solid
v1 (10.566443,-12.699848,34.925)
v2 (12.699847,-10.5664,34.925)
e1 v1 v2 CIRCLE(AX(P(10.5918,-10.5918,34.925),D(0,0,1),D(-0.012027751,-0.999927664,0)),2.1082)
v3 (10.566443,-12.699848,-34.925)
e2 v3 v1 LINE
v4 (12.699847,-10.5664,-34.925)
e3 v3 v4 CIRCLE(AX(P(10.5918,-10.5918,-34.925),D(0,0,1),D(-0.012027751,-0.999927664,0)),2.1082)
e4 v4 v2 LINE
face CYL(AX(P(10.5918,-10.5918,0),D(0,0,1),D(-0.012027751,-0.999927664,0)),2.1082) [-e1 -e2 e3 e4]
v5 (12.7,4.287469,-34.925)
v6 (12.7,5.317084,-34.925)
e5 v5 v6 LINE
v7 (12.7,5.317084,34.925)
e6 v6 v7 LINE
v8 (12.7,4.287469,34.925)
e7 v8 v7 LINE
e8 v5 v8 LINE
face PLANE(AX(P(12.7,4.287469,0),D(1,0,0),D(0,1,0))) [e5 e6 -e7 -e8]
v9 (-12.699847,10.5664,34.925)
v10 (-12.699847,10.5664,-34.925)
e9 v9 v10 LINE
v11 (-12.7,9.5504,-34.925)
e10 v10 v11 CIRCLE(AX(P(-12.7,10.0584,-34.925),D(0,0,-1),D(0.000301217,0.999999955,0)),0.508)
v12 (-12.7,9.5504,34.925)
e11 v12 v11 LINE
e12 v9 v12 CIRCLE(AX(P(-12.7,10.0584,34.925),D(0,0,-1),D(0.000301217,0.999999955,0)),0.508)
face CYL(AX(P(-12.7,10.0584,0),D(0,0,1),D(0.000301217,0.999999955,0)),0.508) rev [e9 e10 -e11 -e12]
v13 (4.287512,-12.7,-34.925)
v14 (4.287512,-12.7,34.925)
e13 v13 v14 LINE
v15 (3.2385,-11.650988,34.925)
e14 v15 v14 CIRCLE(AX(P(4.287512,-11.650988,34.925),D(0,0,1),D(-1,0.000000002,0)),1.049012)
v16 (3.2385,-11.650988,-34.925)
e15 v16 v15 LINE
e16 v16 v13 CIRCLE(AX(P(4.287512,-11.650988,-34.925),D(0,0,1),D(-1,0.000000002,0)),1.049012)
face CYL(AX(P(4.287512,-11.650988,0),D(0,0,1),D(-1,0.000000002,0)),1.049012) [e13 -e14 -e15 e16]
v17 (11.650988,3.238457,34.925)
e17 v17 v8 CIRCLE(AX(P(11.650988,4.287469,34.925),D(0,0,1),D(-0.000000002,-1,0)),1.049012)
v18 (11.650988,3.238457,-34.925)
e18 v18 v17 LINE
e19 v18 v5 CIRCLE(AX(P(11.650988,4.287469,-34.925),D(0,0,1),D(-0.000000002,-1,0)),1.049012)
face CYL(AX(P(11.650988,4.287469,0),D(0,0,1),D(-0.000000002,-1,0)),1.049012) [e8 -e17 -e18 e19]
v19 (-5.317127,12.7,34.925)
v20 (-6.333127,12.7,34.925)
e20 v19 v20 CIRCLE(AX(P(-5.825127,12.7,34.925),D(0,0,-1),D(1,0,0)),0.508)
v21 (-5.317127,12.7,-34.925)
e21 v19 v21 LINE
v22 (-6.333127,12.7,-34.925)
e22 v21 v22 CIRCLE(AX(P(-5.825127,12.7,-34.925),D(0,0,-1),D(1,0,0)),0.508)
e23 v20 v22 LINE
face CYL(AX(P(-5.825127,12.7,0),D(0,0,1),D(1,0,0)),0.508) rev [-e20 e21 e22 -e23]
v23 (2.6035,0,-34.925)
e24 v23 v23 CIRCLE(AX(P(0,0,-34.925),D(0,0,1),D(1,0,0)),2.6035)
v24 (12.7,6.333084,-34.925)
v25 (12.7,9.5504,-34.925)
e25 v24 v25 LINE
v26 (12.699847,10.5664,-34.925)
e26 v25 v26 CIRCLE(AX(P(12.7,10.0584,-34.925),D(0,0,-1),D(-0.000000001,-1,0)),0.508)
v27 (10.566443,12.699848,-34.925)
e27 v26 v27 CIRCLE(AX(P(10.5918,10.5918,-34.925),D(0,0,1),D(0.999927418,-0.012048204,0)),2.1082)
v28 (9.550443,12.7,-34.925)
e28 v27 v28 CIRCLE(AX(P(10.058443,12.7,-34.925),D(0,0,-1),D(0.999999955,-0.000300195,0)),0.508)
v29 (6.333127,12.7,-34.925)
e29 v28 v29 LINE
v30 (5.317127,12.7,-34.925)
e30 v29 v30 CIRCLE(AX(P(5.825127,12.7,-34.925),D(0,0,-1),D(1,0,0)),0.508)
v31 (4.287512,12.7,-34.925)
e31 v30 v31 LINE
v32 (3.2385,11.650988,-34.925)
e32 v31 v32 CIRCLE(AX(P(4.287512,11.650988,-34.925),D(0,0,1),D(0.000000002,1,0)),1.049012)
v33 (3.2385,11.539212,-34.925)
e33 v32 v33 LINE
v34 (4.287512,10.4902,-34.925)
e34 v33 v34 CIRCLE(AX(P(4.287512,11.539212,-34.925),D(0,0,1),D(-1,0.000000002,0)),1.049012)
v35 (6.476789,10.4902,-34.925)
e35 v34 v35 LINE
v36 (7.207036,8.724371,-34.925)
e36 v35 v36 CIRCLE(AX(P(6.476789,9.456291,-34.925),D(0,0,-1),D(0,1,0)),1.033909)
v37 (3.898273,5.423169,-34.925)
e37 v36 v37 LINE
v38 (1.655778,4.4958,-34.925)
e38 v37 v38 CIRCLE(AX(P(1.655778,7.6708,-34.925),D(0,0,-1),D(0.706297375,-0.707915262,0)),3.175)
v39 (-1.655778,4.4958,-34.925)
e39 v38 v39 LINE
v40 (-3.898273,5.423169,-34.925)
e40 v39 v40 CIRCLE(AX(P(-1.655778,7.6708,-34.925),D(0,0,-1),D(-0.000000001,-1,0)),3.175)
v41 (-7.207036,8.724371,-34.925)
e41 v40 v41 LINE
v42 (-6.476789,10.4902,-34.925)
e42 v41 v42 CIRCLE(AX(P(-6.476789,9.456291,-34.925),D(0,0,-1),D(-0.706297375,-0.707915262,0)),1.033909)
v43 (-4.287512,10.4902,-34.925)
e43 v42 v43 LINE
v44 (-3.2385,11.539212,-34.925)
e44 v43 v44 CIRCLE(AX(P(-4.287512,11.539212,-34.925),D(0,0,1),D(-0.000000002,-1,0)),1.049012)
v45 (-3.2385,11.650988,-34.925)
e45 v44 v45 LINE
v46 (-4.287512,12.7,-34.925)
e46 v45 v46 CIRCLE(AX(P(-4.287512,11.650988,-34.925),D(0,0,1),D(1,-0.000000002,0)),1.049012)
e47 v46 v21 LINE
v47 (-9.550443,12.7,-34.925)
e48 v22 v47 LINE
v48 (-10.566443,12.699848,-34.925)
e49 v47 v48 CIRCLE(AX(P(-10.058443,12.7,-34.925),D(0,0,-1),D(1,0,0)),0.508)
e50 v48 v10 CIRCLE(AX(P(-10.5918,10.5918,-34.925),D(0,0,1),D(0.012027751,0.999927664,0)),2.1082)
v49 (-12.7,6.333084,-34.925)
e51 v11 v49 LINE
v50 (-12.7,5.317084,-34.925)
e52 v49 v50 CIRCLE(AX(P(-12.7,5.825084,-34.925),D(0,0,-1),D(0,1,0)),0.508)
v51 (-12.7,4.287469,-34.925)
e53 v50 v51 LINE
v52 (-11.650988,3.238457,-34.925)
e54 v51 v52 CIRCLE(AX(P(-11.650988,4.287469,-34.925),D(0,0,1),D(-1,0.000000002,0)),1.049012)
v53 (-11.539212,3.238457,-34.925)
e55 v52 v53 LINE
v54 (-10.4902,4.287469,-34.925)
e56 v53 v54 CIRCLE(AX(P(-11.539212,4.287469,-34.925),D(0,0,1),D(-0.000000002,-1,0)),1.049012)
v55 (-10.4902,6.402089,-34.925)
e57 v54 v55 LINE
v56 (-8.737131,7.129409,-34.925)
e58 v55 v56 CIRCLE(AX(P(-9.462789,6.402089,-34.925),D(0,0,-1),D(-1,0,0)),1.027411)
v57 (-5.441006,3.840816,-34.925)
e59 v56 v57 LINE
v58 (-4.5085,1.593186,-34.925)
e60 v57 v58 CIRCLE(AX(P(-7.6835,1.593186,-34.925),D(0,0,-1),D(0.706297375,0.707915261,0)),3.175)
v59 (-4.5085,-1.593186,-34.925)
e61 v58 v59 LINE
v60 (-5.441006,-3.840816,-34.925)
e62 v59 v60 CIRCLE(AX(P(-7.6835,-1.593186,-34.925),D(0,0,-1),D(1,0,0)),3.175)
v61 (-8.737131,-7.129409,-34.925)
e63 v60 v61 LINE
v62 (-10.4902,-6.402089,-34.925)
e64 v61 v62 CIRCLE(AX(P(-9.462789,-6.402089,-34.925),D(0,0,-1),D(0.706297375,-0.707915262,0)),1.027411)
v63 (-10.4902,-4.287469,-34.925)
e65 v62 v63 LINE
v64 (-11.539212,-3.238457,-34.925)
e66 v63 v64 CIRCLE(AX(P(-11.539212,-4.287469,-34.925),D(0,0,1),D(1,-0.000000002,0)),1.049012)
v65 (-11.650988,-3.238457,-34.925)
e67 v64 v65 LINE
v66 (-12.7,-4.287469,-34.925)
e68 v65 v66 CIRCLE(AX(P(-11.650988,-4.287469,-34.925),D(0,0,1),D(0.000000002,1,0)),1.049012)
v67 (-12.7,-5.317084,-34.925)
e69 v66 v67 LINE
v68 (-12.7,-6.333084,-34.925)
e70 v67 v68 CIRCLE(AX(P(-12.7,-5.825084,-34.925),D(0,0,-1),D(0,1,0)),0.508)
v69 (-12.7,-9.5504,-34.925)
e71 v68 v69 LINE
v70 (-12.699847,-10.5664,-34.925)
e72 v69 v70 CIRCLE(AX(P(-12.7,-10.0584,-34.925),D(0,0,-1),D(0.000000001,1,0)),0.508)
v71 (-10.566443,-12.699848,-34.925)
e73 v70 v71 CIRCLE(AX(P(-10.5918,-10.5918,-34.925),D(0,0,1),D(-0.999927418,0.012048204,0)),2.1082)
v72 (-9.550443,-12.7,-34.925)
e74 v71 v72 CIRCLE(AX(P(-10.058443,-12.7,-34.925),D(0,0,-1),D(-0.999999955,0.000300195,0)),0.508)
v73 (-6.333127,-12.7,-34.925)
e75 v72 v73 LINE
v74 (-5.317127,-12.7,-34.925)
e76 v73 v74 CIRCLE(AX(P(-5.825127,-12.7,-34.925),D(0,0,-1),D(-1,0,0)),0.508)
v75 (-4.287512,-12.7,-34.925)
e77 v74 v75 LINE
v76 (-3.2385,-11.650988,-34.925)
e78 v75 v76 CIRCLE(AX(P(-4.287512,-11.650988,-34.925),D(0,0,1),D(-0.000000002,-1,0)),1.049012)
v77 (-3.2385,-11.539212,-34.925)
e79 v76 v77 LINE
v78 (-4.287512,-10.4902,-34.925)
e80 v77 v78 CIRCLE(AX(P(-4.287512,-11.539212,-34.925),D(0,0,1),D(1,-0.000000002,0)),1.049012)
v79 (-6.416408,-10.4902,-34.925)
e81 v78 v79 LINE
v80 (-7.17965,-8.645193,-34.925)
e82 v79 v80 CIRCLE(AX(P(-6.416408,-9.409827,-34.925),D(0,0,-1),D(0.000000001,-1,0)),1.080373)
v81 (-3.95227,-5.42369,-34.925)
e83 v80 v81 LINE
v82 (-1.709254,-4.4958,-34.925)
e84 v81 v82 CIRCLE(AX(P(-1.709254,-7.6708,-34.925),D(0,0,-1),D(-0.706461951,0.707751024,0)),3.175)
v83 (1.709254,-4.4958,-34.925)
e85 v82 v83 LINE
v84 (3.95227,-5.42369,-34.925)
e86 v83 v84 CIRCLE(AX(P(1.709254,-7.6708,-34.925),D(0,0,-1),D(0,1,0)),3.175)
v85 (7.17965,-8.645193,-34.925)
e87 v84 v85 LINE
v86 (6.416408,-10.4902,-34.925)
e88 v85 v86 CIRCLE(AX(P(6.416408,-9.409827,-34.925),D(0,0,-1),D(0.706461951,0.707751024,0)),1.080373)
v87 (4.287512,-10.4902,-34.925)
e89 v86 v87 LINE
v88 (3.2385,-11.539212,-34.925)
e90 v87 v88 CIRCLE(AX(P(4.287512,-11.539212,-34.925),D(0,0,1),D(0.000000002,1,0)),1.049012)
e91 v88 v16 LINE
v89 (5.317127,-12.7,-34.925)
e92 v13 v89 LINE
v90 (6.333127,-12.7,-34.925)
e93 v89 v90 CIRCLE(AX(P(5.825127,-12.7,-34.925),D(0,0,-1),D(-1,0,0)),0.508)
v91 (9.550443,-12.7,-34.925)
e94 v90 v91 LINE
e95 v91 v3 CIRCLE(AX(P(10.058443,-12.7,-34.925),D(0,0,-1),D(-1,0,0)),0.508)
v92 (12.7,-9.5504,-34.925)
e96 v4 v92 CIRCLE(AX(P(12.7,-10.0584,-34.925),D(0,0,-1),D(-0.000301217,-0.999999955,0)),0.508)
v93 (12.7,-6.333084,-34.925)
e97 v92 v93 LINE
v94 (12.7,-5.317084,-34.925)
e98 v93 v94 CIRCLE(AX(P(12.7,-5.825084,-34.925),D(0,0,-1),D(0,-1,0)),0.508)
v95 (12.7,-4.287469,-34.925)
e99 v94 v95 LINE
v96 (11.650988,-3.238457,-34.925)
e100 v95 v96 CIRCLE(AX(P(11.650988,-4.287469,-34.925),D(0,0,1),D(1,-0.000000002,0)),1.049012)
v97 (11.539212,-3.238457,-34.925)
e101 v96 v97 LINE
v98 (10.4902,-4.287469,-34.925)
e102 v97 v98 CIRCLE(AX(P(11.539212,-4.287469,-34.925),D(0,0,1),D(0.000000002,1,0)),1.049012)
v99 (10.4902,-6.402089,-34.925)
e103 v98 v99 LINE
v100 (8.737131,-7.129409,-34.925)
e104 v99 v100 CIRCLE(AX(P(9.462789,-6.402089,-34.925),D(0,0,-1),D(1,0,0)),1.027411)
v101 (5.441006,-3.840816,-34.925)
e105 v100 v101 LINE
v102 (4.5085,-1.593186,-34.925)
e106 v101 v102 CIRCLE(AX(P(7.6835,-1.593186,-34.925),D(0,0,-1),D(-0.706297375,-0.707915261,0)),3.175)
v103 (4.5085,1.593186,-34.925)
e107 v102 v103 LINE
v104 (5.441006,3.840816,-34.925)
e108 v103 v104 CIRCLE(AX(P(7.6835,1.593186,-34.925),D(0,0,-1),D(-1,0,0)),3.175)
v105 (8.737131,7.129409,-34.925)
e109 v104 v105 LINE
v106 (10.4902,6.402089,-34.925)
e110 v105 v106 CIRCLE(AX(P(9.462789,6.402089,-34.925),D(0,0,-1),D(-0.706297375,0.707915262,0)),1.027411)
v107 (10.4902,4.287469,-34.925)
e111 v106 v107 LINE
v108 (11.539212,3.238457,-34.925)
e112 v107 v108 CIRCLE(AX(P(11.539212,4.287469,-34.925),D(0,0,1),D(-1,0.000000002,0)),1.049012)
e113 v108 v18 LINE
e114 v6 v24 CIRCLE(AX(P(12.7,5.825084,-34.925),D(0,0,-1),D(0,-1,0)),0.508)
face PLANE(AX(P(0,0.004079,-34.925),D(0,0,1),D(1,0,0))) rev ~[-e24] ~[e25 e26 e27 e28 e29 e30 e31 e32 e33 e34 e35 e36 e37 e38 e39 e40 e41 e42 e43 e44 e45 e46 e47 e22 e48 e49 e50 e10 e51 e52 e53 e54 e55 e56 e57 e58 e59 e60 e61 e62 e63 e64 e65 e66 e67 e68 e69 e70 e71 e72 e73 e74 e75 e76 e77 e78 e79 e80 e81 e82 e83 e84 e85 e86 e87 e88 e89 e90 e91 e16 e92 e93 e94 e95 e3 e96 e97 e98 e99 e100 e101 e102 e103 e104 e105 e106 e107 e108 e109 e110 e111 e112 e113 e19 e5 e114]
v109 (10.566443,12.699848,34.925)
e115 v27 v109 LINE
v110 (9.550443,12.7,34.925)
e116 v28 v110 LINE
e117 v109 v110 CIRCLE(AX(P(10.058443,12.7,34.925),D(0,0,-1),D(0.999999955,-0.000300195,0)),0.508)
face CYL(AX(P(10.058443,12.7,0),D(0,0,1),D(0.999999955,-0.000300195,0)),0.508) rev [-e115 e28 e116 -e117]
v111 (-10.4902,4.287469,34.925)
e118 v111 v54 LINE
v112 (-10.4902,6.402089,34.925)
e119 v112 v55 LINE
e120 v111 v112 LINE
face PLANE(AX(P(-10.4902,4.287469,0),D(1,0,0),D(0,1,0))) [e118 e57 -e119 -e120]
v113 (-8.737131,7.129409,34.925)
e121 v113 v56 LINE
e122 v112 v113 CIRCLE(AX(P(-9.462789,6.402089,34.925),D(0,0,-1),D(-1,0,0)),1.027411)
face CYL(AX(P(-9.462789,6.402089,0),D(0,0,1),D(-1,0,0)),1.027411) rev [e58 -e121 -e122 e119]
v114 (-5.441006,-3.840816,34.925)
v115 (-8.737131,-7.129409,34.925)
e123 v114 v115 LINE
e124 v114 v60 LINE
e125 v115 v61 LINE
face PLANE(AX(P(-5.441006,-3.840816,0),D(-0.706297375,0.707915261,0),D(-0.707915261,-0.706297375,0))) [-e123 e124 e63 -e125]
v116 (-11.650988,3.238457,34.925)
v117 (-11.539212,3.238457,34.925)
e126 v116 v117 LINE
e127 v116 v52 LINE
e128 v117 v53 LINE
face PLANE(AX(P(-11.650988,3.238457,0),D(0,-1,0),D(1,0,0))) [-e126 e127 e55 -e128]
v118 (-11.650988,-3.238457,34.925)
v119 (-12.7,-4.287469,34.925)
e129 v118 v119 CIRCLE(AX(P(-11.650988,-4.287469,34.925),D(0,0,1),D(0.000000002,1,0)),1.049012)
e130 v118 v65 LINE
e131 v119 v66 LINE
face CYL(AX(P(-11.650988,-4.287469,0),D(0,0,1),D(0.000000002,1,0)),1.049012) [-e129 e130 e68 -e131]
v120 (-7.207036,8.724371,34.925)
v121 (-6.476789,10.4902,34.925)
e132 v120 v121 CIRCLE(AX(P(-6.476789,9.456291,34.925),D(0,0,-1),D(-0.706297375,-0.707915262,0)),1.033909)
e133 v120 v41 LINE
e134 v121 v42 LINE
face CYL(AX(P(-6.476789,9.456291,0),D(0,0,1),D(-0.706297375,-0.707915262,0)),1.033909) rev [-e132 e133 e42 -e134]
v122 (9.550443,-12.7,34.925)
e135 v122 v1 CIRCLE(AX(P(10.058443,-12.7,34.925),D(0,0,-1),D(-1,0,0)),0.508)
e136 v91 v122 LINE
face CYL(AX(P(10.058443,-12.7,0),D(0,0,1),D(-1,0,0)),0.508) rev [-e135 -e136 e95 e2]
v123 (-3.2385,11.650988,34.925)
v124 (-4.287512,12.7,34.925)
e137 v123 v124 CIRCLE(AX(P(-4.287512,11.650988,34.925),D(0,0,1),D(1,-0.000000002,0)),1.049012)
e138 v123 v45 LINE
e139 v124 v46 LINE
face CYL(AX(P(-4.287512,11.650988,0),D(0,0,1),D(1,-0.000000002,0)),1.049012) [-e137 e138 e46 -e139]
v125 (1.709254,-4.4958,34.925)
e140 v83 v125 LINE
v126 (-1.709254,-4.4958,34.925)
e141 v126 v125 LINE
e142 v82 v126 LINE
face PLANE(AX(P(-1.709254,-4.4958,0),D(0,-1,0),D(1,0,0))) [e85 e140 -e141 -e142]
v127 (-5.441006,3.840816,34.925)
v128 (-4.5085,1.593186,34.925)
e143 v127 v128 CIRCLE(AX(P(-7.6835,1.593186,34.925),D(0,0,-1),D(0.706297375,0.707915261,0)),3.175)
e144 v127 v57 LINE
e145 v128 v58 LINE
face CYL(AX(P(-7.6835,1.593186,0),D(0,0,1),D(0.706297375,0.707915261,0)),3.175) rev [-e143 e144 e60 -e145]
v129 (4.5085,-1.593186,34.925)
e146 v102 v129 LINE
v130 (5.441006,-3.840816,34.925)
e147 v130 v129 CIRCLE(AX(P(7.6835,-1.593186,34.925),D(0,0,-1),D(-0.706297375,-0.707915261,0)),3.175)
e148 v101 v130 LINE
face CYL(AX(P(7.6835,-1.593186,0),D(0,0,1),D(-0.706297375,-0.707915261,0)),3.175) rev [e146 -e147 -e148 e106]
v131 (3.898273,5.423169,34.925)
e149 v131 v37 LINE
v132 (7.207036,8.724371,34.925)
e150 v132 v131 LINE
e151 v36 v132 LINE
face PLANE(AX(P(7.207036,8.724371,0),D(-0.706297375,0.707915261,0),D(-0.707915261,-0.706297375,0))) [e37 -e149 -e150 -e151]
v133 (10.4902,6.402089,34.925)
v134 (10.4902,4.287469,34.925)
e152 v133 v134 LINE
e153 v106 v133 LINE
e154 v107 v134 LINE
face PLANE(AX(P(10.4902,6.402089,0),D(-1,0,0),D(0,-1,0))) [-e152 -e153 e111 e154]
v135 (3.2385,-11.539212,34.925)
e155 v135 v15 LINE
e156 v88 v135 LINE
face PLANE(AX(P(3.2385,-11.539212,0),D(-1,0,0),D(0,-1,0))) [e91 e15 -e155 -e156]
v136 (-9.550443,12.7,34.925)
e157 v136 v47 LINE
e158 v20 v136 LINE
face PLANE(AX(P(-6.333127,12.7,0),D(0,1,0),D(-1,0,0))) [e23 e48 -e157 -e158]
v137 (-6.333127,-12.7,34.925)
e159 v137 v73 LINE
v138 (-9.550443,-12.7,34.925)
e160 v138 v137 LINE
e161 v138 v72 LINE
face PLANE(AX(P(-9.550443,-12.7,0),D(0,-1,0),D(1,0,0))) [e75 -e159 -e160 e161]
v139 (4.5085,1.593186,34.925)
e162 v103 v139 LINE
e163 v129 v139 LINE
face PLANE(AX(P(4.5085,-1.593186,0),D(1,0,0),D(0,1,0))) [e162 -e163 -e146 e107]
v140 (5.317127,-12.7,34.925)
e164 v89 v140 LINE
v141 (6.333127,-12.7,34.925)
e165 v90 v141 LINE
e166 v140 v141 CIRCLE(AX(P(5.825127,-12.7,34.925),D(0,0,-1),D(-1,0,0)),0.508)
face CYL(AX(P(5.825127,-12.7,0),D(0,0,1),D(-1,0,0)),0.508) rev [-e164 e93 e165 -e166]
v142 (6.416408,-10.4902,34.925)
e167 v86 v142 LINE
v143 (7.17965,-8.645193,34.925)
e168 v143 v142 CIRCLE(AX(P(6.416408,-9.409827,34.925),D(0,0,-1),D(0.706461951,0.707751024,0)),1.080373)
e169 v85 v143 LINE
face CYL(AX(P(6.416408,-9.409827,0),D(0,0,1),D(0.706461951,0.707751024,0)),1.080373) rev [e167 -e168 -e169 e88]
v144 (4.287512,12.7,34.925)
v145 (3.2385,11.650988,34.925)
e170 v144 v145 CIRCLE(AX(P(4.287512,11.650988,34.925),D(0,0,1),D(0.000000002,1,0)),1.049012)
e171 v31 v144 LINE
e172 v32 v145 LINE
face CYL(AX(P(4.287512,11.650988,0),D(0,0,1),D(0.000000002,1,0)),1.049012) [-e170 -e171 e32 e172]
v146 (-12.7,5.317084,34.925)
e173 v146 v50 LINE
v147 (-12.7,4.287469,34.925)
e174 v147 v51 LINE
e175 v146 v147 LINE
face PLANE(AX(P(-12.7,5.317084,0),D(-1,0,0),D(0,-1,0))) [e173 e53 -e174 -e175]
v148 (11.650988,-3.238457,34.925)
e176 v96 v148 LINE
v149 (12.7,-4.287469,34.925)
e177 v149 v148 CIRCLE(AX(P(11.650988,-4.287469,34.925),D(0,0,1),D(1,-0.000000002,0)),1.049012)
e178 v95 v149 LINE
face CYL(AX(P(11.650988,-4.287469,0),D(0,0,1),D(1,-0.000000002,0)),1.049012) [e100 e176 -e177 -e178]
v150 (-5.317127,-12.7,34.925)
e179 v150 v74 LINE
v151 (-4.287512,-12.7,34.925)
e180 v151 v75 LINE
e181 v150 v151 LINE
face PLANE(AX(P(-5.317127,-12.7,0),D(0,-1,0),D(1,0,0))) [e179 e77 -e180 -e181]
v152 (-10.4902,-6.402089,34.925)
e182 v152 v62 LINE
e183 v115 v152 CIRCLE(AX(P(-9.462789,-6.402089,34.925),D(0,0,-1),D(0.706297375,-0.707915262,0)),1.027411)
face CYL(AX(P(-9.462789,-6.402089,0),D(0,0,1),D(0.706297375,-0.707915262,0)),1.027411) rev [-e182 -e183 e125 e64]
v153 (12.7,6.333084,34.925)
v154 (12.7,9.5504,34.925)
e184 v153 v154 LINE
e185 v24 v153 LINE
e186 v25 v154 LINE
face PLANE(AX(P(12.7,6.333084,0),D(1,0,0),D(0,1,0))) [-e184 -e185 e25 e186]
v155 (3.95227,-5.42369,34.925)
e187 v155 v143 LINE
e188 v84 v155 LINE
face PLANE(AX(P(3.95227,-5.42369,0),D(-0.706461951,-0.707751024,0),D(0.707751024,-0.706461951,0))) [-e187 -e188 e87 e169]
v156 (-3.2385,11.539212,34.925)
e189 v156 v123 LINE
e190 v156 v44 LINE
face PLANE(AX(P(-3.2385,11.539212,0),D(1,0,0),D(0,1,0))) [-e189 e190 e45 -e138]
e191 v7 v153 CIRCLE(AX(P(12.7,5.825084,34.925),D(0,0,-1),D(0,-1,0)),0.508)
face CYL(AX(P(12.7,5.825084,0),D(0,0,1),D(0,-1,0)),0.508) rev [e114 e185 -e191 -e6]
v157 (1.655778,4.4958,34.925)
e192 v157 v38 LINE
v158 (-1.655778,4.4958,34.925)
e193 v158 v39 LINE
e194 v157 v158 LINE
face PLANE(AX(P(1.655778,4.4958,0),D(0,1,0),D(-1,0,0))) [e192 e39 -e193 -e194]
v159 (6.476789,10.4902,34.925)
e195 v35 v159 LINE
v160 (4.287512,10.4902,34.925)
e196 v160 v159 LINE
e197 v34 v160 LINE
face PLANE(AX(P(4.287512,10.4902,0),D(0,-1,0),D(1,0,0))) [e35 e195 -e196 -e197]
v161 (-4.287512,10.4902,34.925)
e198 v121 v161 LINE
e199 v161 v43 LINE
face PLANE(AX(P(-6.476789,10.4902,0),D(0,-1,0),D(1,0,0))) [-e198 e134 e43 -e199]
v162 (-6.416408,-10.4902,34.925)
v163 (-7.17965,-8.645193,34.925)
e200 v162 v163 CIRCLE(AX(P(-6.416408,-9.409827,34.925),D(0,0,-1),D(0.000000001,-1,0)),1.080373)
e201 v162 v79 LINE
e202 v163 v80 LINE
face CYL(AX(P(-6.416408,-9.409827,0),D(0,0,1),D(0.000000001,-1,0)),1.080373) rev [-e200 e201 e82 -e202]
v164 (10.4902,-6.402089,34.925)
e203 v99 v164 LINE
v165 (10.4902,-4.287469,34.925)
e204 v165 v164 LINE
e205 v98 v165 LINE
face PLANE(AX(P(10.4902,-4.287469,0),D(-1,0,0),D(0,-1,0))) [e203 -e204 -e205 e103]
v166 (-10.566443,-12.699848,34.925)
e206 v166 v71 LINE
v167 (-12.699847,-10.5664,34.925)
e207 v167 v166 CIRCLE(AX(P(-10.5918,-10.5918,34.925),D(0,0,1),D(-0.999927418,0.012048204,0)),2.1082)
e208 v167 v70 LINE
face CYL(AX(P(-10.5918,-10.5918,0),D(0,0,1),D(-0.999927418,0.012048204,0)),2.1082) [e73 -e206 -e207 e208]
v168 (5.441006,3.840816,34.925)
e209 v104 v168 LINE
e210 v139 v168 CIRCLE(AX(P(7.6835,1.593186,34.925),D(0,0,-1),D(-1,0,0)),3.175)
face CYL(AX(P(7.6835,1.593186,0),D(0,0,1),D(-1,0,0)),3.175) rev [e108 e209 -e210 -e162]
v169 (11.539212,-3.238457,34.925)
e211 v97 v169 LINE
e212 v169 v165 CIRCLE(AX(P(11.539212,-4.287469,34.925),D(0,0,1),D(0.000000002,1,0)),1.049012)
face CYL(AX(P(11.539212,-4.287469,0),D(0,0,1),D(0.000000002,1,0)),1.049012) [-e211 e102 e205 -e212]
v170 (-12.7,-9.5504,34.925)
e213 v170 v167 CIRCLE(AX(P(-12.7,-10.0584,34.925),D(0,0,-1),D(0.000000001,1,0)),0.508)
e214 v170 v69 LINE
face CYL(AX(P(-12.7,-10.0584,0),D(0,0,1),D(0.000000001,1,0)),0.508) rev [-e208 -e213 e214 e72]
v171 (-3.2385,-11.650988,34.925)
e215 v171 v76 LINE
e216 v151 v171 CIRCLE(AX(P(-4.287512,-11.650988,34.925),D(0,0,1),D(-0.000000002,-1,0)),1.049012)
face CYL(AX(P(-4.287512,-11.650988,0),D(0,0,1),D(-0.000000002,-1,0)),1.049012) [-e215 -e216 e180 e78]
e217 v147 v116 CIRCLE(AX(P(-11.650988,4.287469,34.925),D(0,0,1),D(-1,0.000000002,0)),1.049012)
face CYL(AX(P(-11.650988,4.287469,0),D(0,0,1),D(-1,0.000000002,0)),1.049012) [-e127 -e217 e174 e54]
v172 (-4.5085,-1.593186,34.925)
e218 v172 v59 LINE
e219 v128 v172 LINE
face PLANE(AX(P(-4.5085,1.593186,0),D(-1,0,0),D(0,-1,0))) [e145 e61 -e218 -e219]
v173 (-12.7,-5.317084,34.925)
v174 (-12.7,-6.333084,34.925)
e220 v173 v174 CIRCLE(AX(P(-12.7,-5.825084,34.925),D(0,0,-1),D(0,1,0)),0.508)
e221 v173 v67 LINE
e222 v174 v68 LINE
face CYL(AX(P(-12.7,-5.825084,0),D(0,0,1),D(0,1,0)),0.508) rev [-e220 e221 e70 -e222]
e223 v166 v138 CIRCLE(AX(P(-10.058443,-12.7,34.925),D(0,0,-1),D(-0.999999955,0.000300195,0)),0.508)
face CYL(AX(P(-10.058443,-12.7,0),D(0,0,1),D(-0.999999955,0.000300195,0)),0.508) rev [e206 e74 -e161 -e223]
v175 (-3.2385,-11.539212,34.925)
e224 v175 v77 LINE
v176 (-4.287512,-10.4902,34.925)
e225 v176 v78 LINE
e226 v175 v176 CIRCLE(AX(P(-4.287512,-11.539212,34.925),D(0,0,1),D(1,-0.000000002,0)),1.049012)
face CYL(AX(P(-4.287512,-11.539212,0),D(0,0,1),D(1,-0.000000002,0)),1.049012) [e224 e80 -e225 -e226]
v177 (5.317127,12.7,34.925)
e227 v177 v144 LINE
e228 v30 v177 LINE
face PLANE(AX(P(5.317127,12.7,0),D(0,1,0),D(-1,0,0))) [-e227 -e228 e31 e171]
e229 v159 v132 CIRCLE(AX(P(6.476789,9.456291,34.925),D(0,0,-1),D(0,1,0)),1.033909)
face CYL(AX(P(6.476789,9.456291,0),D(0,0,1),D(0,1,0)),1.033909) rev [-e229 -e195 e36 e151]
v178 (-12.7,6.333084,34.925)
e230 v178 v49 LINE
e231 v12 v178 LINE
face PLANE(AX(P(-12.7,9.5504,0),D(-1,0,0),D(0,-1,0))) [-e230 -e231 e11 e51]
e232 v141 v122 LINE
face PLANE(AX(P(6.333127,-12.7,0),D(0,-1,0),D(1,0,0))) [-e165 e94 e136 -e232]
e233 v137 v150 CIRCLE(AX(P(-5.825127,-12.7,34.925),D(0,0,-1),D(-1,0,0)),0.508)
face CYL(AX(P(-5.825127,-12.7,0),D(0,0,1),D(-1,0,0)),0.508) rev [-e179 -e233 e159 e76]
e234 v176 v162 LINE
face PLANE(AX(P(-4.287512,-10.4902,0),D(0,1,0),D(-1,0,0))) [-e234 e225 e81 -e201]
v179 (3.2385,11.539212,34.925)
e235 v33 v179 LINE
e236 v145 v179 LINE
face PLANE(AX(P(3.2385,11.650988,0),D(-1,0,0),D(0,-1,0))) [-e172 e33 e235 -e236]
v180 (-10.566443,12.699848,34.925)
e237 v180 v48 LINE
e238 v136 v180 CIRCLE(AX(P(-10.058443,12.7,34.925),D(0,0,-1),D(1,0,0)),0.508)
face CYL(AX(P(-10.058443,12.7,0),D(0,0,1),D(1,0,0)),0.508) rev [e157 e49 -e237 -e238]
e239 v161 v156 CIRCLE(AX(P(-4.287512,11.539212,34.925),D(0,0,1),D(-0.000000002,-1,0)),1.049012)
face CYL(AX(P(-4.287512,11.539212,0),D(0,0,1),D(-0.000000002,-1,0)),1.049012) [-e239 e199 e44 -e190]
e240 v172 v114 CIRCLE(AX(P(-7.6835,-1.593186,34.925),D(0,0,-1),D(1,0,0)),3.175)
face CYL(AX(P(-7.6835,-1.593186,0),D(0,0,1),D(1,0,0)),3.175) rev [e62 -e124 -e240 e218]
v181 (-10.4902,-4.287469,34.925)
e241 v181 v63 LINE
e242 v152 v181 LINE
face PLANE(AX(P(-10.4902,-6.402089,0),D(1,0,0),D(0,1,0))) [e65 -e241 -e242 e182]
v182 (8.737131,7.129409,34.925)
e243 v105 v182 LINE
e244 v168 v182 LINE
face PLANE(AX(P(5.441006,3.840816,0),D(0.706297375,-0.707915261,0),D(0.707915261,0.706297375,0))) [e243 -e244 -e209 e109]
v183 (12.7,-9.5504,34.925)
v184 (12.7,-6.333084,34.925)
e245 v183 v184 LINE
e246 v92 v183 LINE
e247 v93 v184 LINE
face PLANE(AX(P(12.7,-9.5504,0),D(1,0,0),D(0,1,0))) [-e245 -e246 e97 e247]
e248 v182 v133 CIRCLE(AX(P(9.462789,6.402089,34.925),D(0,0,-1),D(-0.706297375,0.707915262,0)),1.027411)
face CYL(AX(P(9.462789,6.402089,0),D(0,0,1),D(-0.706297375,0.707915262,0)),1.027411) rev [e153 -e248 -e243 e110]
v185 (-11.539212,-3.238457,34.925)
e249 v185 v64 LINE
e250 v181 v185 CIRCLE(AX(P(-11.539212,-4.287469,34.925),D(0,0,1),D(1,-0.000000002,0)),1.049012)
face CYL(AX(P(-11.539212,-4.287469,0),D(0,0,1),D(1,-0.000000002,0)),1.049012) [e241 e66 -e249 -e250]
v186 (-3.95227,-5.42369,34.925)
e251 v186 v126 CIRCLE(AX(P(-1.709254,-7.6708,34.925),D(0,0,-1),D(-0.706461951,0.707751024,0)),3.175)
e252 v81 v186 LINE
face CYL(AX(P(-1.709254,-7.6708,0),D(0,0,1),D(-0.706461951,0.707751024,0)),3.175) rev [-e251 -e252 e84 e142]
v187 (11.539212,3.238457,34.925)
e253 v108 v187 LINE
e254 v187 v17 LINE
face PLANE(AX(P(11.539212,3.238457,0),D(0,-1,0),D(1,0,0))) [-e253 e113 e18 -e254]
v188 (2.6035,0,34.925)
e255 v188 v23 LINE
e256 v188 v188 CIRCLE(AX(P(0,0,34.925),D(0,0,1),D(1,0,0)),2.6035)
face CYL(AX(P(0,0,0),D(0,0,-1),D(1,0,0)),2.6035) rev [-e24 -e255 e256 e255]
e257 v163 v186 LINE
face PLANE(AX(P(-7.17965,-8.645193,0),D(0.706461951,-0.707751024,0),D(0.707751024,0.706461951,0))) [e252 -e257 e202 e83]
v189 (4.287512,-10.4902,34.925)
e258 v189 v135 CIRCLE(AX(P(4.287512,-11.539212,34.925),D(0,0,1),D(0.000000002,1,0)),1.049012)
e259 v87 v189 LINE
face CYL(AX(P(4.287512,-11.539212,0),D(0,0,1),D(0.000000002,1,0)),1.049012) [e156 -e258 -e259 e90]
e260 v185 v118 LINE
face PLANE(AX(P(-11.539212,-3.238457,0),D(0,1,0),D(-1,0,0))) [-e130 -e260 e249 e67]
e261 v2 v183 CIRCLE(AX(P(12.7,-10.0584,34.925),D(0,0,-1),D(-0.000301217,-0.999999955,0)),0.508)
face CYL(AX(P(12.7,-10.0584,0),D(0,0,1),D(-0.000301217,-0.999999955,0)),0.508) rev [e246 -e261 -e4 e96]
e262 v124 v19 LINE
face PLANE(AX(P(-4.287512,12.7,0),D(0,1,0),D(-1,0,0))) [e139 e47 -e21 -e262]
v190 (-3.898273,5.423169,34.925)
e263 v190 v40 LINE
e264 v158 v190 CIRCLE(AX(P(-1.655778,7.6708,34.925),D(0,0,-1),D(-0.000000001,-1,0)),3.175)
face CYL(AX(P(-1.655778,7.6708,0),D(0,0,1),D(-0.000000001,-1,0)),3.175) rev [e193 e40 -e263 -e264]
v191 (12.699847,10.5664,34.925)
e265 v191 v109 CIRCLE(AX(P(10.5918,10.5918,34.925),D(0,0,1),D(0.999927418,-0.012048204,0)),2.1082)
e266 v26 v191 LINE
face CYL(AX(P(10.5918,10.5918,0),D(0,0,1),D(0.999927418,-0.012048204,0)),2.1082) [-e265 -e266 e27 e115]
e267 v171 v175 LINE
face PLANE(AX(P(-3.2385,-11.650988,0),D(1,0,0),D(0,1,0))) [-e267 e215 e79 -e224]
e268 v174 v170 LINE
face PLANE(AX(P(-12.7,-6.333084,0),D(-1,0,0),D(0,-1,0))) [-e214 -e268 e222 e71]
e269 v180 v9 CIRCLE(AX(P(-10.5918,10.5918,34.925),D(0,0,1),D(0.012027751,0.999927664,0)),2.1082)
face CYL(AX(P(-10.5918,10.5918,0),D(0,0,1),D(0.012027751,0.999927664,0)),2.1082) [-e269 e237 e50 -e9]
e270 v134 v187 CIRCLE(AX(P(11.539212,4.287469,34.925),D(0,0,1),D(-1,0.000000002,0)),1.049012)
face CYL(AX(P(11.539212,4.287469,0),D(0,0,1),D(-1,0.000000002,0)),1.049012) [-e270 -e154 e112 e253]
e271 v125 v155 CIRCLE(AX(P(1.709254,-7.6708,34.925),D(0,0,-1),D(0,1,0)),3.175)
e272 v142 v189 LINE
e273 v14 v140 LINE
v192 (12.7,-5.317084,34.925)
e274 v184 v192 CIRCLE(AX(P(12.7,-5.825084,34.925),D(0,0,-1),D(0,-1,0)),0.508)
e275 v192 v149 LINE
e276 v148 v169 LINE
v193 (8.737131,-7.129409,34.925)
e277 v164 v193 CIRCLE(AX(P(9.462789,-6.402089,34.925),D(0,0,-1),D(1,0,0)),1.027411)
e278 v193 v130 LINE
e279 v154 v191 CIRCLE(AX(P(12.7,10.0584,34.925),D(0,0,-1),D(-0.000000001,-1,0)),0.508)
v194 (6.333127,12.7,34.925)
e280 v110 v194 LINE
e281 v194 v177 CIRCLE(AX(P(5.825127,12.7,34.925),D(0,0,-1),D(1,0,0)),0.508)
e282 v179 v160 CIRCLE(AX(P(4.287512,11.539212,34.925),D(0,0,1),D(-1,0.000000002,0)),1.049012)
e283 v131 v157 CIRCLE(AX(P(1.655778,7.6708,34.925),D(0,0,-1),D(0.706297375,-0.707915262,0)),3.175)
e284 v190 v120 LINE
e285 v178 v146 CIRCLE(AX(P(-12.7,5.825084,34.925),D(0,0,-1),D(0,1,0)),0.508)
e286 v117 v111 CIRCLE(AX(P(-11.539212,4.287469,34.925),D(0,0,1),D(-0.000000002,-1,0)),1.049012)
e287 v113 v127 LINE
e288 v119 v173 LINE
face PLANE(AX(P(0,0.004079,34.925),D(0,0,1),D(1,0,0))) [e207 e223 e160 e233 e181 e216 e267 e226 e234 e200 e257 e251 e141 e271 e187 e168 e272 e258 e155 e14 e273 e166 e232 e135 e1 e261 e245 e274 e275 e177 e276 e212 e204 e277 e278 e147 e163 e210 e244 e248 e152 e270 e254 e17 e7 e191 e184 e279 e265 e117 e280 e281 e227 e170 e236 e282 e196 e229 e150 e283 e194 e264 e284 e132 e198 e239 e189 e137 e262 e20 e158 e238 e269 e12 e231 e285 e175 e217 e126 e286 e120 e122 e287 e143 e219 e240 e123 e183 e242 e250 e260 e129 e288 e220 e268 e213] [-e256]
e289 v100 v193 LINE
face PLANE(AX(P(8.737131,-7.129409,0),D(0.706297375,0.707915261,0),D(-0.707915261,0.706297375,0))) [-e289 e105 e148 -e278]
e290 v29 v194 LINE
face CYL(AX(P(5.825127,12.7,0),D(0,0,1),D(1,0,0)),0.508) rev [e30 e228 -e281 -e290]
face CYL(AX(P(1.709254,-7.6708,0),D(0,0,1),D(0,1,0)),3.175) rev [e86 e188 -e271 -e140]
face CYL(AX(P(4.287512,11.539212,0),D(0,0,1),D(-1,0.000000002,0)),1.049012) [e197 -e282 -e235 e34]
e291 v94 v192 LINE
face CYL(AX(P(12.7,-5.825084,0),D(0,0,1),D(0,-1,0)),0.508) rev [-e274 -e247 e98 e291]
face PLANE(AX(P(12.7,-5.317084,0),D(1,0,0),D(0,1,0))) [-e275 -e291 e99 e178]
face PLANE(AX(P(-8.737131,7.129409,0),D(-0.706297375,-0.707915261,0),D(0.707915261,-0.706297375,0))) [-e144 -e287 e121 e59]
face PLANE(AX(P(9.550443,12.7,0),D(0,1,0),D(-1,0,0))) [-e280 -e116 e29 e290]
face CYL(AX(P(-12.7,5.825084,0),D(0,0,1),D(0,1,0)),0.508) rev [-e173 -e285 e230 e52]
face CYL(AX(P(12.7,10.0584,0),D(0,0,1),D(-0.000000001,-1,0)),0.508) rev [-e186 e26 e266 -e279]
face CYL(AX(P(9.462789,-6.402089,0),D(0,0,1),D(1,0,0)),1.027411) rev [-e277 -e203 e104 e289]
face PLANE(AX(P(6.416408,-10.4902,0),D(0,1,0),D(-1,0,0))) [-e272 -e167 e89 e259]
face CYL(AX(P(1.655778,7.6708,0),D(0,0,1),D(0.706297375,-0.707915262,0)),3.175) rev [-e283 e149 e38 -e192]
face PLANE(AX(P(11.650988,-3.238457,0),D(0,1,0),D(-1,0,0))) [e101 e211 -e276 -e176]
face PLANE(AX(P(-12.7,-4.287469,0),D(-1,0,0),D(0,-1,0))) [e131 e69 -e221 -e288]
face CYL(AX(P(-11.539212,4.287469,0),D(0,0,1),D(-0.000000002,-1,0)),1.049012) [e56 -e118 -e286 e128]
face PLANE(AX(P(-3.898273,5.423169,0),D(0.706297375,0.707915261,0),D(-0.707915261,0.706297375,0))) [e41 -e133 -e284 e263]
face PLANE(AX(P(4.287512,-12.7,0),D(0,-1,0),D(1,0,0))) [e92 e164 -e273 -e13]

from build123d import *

# Parameters (mm, degrees)
SKETCH1_R           = 2.6035
BOSS_EXTRUDE1_DEPTH = 34.925


with BuildPart() as part:
    # Sketch1 → Boss-Extrude1 (new, symmetric)
    with BuildSketch(Plane.XY):
        with BuildLine():
            Line((-7.179650497, -8.645192506), (-3.952270251, -5.423690499))
            ThreePointArc((-3.952270251, -5.423690499), (-2.922936451, -4.736929036), (-1.709253557, -4.4958))
            Line((-1.709253557, -4.4958), (1.709253557, -4.4958))
            ThreePointArc((1.709253557, -4.4958), (2.922936451, -4.736929036), (3.952270251, -5.423690499))
            Line((3.952270251, -5.423690499), (7.179650497, -8.645192506))
            ThreePointArc((7.179650497, -8.645192506), (7.41473083, -9.822813117), (6.416408329, -10.4902))
            Line((6.416408329, -10.4902), (4.287512407, -10.4902))
            ThreePointArc((4.287512407, -10.4902), (3.54574862, -10.79744862), (3.2385, -11.539212407))
            Line((3.2385, -11.539212407), (3.2385, -11.650987593))
            ThreePointArc((3.2385, -11.650987593), (3.54574862, -12.39275138), (4.287512407, -12.7))
            Line((4.287512407, -12.7), (5.317126718, -12.7))
            ThreePointArc((5.317126718, -12.7), (5.825126718, -12.192), (6.333126718, -12.7))
            Line((6.333126718, -12.7), (9.550443118, -12.7))
            ThreePointArc((9.550443118, -12.7), (10.058366869, -12.192000006), (10.566443095, -12.699847501))
            ThreePointArc((10.566443095, -12.699847501), (12.082537762, -12.08250727), (12.699846982, -10.566399977))
            ThreePointArc((12.699846982, -10.566399977), (12.192000006, -10.058323491), (12.7, -9.5504))
            Line((12.7, -9.5504), (12.7, -6.3330836))
            ThreePointArc((12.7, -6.3330836), (12.192, -5.8250836), (12.7, -5.3170836))
            Line((12.7, -5.3170836), (12.7, -4.287469289))
            ThreePointArc((12.7, -4.287469289), (12.39275138, -3.545705502), (11.650987593, -3.238456882))
            Line((11.650987593, -3.238456882), (11.539212407, -3.238456882))
            ThreePointArc((11.539212407, -3.238456882), (10.79744862, -3.545705502), (10.4902, -4.287469289))
            Line((10.4902, -4.287469289), (10.4902, -6.402089023))
            ThreePointArc((10.4902, -6.402089023), (9.856505071, -7.351067942), (8.737131347, -7.129408934))
            Line((8.737131347, -7.129408934), (5.441005833, -3.840816462))
            ThreePointArc((5.441005833, -3.840816462), (4.750877967, -2.809883091), (4.5085, -1.593185507))
            Line((4.5085, -1.593185507), (4.5085, 1.593185507))
            ThreePointArc((4.5085, 1.593185507), (4.750877967, 2.809883091), (5.441005833, 3.840816462))
            Line((5.441005833, 3.840816462), (8.737131347, 7.129408934))
            ThreePointArc((8.737131347, 7.129408934), (9.856505071, 7.351067942), (10.4902, 6.402089023))
            Line((10.4902, 6.402089023), (10.4902, 4.287469289))
            ThreePointArc((10.4902, 4.287469289), (10.79744862, 3.545705502), (11.539212407, 3.238456882))
            Line((11.539212407, 3.238456882), (11.650987593, 3.238456882))
            ThreePointArc((11.650987593, 3.238456882), (12.39275138, 3.545705502), (12.7, 4.287469289))
            Line((12.7, 4.287469289), (12.7, 5.3170836))
            ThreePointArc((12.7, 5.3170836), (12.192, 5.8250836), (12.7, 6.3330836))
            Line((12.7, 6.3330836), (12.7, 9.5504))
            ThreePointArc((12.7, 9.5504), (12.192000006, 10.058323491), (12.699846982, 10.566399977))
            ThreePointArc((12.699846982, 10.566399977), (12.082537762, 12.08250727), (10.566443095, 12.699847501))
            ThreePointArc((10.566443095, 12.699847501), (10.058366869, 12.192000006), (9.550443118, 12.7))
            Line((9.550443118, 12.7), (6.333126718, 12.7))
            ThreePointArc((6.333126718, 12.7), (5.825126718, 12.192), (5.317126718, 12.7))
            Line((5.317126718, 12.7), (4.287512407, 12.7))
            ThreePointArc((4.287512407, 12.7), (3.54574862, 12.39275138), (3.2385, 11.650987593))
            Line((3.2385, 11.650987593), (3.2385, 11.539212407))
            ThreePointArc((3.2385, 11.539212407), (3.54574862, 10.79744862), (4.287512407, 10.4902))
            Line((4.287512407, 10.4902), (6.476788598, 10.4902))
            ThreePointArc((6.476788598, 10.4902), (7.432222385, 9.85140422), (7.207036008, 8.724370562))
            Line((7.207036008, 8.724370562), (3.898272566, 5.423169045))
            ThreePointArc((3.898272566, 5.423169045), (2.869120213, 4.736787962), (1.655778399, 4.4958))
            Line((1.655778399, 4.4958), (-1.655778399, 4.4958))
            ThreePointArc((-1.655778399, 4.4958), (-2.869120213, 4.736787962), (-3.898272566, 5.423169045))
            Line((-3.898272566, 5.423169045), (-7.207036008, 8.724370562))
            ThreePointArc((-7.207036008, 8.724370562), (-7.432222385, 9.85140422), (-6.476788598, 10.4902))
            Line((-6.476788598, 10.4902), (-4.287512407, 10.4902))
            ThreePointArc((-4.287512407, 10.4902), (-3.54574862, 10.79744862), (-3.2385, 11.539212407))
            Line((-3.2385, 11.539212407), (-3.2385, 11.650987593))
            ThreePointArc((-3.2385, 11.650987593), (-3.54574862, 12.39275138), (-4.287512407, 12.7))
            Line((-4.287512407, 12.7), (-5.317126718, 12.7))
            ThreePointArc((-5.317126718, 12.7), (-5.825126718, 12.192), (-6.333126718, 12.7))
            Line((-6.333126718, 12.7), (-9.550443118, 12.7))
            ThreePointArc((-9.550443118, 12.7), (-10.058366869, 12.192000006), (-10.566443095, 12.699847501))
            ThreePointArc((-10.566443095, 12.699847501), (-12.082537762, 12.08250727), (-12.699846982, 10.566399977))
            ThreePointArc((-12.699846982, 10.566399977), (-12.192000006, 10.058323491), (-12.7, 9.5504))
            Line((-12.7, 9.5504), (-12.7, 6.3330836))
            ThreePointArc((-12.7, 6.3330836), (-12.192, 5.8250836), (-12.7, 5.3170836))
            Line((-12.7, 5.3170836), (-12.7, 4.287469289))
            ThreePointArc((-12.7, 4.287469289), (-12.39275138, 3.545705502), (-11.650987593, 3.238456882))
            Line((-11.650987593, 3.238456882), (-11.539212407, 3.238456882))
            ThreePointArc((-11.539212407, 3.238456882), (-10.79744862, 3.545705502), (-10.4902, 4.287469289))
            Line((-10.4902, 4.287469289), (-10.4902, 6.402089023))
            ThreePointArc((-10.4902, 6.402089023), (-9.856505071, 7.351067942), (-8.737131347, 7.129408934))
            Line((-8.737131347, 7.129408934), (-5.441005833, 3.840816462))
            ThreePointArc((-5.441005833, 3.840816462), (-4.750877967, 2.809883091), (-4.5085, 1.593185507))
            Line((-4.5085, 1.593185507), (-4.5085, -1.593185507))
            ThreePointArc((-4.5085, -1.593185507), (-4.750877967, -2.809883091), (-5.441005833, -3.840816462))
            Line((-5.441005833, -3.840816462), (-8.737131347, -7.129408934))
            ThreePointArc((-8.737131347, -7.129408934), (-9.856505071, -7.351067942), (-10.4902, -6.402089023))
            Line((-10.4902, -6.402089023), (-10.4902, -4.287469289))
            ThreePointArc((-10.4902, -4.287469289), (-10.79744862, -3.545705502), (-11.539212407, -3.238456882))
            Line((-11.539212407, -3.238456882), (-11.650987593, -3.238456882))
            ThreePointArc((-11.650987593, -3.238456882), (-12.39275138, -3.545705502), (-12.7, -4.287469289))
            Line((-12.7, -4.287469289), (-12.7, -5.3170836))
            ThreePointArc((-12.7, -5.3170836), (-12.192, -5.8250836), (-12.7, -6.3330836))
            Line((-12.7, -6.3330836), (-12.7, -9.5504))
            ThreePointArc((-12.7, -9.5504), (-12.192000006, -10.058323491), (-12.699846982, -10.566399977))
            ThreePointArc((-12.699846982, -10.566399977), (-12.082537762, -12.08250727), (-10.566443095, -12.699847501))
            ThreePointArc((-10.566443095, -12.699847501), (-10.058366869, -12.192000006), (-9.550443118, -12.7))
            Line((-9.550443118, -12.7), (-6.333126718, -12.7))
            ThreePointArc((-6.333126718, -12.7), (-5.825126718, -12.192), (-5.317126718, -12.7))
            Line((-5.317126718, -12.7), (-4.287512407, -12.7))
            ThreePointArc((-4.287512407, -12.7), (-3.54574862, -12.39275138), (-3.2385, -11.650987593))
            Line((-3.2385, -11.650987593), (-3.2385, -11.539212407))
            ThreePointArc((-3.2385, -11.539212407), (-3.54574862, -10.79744862), (-4.287512407, -10.4902))
            Line((-4.287512407, -10.4902), (-6.416408329, -10.4902))
            ThreePointArc((-6.416408329, -10.4902), (-7.41473083, -9.822813117), (-7.179650497, -8.645192506))
        make_face()
        Circle(SKETCH1_R, mode=Mode.SUBTRACT)
    extrude(amount=BOSS_EXTRUDE1_DEPTH, both=True)


solid = part.part
